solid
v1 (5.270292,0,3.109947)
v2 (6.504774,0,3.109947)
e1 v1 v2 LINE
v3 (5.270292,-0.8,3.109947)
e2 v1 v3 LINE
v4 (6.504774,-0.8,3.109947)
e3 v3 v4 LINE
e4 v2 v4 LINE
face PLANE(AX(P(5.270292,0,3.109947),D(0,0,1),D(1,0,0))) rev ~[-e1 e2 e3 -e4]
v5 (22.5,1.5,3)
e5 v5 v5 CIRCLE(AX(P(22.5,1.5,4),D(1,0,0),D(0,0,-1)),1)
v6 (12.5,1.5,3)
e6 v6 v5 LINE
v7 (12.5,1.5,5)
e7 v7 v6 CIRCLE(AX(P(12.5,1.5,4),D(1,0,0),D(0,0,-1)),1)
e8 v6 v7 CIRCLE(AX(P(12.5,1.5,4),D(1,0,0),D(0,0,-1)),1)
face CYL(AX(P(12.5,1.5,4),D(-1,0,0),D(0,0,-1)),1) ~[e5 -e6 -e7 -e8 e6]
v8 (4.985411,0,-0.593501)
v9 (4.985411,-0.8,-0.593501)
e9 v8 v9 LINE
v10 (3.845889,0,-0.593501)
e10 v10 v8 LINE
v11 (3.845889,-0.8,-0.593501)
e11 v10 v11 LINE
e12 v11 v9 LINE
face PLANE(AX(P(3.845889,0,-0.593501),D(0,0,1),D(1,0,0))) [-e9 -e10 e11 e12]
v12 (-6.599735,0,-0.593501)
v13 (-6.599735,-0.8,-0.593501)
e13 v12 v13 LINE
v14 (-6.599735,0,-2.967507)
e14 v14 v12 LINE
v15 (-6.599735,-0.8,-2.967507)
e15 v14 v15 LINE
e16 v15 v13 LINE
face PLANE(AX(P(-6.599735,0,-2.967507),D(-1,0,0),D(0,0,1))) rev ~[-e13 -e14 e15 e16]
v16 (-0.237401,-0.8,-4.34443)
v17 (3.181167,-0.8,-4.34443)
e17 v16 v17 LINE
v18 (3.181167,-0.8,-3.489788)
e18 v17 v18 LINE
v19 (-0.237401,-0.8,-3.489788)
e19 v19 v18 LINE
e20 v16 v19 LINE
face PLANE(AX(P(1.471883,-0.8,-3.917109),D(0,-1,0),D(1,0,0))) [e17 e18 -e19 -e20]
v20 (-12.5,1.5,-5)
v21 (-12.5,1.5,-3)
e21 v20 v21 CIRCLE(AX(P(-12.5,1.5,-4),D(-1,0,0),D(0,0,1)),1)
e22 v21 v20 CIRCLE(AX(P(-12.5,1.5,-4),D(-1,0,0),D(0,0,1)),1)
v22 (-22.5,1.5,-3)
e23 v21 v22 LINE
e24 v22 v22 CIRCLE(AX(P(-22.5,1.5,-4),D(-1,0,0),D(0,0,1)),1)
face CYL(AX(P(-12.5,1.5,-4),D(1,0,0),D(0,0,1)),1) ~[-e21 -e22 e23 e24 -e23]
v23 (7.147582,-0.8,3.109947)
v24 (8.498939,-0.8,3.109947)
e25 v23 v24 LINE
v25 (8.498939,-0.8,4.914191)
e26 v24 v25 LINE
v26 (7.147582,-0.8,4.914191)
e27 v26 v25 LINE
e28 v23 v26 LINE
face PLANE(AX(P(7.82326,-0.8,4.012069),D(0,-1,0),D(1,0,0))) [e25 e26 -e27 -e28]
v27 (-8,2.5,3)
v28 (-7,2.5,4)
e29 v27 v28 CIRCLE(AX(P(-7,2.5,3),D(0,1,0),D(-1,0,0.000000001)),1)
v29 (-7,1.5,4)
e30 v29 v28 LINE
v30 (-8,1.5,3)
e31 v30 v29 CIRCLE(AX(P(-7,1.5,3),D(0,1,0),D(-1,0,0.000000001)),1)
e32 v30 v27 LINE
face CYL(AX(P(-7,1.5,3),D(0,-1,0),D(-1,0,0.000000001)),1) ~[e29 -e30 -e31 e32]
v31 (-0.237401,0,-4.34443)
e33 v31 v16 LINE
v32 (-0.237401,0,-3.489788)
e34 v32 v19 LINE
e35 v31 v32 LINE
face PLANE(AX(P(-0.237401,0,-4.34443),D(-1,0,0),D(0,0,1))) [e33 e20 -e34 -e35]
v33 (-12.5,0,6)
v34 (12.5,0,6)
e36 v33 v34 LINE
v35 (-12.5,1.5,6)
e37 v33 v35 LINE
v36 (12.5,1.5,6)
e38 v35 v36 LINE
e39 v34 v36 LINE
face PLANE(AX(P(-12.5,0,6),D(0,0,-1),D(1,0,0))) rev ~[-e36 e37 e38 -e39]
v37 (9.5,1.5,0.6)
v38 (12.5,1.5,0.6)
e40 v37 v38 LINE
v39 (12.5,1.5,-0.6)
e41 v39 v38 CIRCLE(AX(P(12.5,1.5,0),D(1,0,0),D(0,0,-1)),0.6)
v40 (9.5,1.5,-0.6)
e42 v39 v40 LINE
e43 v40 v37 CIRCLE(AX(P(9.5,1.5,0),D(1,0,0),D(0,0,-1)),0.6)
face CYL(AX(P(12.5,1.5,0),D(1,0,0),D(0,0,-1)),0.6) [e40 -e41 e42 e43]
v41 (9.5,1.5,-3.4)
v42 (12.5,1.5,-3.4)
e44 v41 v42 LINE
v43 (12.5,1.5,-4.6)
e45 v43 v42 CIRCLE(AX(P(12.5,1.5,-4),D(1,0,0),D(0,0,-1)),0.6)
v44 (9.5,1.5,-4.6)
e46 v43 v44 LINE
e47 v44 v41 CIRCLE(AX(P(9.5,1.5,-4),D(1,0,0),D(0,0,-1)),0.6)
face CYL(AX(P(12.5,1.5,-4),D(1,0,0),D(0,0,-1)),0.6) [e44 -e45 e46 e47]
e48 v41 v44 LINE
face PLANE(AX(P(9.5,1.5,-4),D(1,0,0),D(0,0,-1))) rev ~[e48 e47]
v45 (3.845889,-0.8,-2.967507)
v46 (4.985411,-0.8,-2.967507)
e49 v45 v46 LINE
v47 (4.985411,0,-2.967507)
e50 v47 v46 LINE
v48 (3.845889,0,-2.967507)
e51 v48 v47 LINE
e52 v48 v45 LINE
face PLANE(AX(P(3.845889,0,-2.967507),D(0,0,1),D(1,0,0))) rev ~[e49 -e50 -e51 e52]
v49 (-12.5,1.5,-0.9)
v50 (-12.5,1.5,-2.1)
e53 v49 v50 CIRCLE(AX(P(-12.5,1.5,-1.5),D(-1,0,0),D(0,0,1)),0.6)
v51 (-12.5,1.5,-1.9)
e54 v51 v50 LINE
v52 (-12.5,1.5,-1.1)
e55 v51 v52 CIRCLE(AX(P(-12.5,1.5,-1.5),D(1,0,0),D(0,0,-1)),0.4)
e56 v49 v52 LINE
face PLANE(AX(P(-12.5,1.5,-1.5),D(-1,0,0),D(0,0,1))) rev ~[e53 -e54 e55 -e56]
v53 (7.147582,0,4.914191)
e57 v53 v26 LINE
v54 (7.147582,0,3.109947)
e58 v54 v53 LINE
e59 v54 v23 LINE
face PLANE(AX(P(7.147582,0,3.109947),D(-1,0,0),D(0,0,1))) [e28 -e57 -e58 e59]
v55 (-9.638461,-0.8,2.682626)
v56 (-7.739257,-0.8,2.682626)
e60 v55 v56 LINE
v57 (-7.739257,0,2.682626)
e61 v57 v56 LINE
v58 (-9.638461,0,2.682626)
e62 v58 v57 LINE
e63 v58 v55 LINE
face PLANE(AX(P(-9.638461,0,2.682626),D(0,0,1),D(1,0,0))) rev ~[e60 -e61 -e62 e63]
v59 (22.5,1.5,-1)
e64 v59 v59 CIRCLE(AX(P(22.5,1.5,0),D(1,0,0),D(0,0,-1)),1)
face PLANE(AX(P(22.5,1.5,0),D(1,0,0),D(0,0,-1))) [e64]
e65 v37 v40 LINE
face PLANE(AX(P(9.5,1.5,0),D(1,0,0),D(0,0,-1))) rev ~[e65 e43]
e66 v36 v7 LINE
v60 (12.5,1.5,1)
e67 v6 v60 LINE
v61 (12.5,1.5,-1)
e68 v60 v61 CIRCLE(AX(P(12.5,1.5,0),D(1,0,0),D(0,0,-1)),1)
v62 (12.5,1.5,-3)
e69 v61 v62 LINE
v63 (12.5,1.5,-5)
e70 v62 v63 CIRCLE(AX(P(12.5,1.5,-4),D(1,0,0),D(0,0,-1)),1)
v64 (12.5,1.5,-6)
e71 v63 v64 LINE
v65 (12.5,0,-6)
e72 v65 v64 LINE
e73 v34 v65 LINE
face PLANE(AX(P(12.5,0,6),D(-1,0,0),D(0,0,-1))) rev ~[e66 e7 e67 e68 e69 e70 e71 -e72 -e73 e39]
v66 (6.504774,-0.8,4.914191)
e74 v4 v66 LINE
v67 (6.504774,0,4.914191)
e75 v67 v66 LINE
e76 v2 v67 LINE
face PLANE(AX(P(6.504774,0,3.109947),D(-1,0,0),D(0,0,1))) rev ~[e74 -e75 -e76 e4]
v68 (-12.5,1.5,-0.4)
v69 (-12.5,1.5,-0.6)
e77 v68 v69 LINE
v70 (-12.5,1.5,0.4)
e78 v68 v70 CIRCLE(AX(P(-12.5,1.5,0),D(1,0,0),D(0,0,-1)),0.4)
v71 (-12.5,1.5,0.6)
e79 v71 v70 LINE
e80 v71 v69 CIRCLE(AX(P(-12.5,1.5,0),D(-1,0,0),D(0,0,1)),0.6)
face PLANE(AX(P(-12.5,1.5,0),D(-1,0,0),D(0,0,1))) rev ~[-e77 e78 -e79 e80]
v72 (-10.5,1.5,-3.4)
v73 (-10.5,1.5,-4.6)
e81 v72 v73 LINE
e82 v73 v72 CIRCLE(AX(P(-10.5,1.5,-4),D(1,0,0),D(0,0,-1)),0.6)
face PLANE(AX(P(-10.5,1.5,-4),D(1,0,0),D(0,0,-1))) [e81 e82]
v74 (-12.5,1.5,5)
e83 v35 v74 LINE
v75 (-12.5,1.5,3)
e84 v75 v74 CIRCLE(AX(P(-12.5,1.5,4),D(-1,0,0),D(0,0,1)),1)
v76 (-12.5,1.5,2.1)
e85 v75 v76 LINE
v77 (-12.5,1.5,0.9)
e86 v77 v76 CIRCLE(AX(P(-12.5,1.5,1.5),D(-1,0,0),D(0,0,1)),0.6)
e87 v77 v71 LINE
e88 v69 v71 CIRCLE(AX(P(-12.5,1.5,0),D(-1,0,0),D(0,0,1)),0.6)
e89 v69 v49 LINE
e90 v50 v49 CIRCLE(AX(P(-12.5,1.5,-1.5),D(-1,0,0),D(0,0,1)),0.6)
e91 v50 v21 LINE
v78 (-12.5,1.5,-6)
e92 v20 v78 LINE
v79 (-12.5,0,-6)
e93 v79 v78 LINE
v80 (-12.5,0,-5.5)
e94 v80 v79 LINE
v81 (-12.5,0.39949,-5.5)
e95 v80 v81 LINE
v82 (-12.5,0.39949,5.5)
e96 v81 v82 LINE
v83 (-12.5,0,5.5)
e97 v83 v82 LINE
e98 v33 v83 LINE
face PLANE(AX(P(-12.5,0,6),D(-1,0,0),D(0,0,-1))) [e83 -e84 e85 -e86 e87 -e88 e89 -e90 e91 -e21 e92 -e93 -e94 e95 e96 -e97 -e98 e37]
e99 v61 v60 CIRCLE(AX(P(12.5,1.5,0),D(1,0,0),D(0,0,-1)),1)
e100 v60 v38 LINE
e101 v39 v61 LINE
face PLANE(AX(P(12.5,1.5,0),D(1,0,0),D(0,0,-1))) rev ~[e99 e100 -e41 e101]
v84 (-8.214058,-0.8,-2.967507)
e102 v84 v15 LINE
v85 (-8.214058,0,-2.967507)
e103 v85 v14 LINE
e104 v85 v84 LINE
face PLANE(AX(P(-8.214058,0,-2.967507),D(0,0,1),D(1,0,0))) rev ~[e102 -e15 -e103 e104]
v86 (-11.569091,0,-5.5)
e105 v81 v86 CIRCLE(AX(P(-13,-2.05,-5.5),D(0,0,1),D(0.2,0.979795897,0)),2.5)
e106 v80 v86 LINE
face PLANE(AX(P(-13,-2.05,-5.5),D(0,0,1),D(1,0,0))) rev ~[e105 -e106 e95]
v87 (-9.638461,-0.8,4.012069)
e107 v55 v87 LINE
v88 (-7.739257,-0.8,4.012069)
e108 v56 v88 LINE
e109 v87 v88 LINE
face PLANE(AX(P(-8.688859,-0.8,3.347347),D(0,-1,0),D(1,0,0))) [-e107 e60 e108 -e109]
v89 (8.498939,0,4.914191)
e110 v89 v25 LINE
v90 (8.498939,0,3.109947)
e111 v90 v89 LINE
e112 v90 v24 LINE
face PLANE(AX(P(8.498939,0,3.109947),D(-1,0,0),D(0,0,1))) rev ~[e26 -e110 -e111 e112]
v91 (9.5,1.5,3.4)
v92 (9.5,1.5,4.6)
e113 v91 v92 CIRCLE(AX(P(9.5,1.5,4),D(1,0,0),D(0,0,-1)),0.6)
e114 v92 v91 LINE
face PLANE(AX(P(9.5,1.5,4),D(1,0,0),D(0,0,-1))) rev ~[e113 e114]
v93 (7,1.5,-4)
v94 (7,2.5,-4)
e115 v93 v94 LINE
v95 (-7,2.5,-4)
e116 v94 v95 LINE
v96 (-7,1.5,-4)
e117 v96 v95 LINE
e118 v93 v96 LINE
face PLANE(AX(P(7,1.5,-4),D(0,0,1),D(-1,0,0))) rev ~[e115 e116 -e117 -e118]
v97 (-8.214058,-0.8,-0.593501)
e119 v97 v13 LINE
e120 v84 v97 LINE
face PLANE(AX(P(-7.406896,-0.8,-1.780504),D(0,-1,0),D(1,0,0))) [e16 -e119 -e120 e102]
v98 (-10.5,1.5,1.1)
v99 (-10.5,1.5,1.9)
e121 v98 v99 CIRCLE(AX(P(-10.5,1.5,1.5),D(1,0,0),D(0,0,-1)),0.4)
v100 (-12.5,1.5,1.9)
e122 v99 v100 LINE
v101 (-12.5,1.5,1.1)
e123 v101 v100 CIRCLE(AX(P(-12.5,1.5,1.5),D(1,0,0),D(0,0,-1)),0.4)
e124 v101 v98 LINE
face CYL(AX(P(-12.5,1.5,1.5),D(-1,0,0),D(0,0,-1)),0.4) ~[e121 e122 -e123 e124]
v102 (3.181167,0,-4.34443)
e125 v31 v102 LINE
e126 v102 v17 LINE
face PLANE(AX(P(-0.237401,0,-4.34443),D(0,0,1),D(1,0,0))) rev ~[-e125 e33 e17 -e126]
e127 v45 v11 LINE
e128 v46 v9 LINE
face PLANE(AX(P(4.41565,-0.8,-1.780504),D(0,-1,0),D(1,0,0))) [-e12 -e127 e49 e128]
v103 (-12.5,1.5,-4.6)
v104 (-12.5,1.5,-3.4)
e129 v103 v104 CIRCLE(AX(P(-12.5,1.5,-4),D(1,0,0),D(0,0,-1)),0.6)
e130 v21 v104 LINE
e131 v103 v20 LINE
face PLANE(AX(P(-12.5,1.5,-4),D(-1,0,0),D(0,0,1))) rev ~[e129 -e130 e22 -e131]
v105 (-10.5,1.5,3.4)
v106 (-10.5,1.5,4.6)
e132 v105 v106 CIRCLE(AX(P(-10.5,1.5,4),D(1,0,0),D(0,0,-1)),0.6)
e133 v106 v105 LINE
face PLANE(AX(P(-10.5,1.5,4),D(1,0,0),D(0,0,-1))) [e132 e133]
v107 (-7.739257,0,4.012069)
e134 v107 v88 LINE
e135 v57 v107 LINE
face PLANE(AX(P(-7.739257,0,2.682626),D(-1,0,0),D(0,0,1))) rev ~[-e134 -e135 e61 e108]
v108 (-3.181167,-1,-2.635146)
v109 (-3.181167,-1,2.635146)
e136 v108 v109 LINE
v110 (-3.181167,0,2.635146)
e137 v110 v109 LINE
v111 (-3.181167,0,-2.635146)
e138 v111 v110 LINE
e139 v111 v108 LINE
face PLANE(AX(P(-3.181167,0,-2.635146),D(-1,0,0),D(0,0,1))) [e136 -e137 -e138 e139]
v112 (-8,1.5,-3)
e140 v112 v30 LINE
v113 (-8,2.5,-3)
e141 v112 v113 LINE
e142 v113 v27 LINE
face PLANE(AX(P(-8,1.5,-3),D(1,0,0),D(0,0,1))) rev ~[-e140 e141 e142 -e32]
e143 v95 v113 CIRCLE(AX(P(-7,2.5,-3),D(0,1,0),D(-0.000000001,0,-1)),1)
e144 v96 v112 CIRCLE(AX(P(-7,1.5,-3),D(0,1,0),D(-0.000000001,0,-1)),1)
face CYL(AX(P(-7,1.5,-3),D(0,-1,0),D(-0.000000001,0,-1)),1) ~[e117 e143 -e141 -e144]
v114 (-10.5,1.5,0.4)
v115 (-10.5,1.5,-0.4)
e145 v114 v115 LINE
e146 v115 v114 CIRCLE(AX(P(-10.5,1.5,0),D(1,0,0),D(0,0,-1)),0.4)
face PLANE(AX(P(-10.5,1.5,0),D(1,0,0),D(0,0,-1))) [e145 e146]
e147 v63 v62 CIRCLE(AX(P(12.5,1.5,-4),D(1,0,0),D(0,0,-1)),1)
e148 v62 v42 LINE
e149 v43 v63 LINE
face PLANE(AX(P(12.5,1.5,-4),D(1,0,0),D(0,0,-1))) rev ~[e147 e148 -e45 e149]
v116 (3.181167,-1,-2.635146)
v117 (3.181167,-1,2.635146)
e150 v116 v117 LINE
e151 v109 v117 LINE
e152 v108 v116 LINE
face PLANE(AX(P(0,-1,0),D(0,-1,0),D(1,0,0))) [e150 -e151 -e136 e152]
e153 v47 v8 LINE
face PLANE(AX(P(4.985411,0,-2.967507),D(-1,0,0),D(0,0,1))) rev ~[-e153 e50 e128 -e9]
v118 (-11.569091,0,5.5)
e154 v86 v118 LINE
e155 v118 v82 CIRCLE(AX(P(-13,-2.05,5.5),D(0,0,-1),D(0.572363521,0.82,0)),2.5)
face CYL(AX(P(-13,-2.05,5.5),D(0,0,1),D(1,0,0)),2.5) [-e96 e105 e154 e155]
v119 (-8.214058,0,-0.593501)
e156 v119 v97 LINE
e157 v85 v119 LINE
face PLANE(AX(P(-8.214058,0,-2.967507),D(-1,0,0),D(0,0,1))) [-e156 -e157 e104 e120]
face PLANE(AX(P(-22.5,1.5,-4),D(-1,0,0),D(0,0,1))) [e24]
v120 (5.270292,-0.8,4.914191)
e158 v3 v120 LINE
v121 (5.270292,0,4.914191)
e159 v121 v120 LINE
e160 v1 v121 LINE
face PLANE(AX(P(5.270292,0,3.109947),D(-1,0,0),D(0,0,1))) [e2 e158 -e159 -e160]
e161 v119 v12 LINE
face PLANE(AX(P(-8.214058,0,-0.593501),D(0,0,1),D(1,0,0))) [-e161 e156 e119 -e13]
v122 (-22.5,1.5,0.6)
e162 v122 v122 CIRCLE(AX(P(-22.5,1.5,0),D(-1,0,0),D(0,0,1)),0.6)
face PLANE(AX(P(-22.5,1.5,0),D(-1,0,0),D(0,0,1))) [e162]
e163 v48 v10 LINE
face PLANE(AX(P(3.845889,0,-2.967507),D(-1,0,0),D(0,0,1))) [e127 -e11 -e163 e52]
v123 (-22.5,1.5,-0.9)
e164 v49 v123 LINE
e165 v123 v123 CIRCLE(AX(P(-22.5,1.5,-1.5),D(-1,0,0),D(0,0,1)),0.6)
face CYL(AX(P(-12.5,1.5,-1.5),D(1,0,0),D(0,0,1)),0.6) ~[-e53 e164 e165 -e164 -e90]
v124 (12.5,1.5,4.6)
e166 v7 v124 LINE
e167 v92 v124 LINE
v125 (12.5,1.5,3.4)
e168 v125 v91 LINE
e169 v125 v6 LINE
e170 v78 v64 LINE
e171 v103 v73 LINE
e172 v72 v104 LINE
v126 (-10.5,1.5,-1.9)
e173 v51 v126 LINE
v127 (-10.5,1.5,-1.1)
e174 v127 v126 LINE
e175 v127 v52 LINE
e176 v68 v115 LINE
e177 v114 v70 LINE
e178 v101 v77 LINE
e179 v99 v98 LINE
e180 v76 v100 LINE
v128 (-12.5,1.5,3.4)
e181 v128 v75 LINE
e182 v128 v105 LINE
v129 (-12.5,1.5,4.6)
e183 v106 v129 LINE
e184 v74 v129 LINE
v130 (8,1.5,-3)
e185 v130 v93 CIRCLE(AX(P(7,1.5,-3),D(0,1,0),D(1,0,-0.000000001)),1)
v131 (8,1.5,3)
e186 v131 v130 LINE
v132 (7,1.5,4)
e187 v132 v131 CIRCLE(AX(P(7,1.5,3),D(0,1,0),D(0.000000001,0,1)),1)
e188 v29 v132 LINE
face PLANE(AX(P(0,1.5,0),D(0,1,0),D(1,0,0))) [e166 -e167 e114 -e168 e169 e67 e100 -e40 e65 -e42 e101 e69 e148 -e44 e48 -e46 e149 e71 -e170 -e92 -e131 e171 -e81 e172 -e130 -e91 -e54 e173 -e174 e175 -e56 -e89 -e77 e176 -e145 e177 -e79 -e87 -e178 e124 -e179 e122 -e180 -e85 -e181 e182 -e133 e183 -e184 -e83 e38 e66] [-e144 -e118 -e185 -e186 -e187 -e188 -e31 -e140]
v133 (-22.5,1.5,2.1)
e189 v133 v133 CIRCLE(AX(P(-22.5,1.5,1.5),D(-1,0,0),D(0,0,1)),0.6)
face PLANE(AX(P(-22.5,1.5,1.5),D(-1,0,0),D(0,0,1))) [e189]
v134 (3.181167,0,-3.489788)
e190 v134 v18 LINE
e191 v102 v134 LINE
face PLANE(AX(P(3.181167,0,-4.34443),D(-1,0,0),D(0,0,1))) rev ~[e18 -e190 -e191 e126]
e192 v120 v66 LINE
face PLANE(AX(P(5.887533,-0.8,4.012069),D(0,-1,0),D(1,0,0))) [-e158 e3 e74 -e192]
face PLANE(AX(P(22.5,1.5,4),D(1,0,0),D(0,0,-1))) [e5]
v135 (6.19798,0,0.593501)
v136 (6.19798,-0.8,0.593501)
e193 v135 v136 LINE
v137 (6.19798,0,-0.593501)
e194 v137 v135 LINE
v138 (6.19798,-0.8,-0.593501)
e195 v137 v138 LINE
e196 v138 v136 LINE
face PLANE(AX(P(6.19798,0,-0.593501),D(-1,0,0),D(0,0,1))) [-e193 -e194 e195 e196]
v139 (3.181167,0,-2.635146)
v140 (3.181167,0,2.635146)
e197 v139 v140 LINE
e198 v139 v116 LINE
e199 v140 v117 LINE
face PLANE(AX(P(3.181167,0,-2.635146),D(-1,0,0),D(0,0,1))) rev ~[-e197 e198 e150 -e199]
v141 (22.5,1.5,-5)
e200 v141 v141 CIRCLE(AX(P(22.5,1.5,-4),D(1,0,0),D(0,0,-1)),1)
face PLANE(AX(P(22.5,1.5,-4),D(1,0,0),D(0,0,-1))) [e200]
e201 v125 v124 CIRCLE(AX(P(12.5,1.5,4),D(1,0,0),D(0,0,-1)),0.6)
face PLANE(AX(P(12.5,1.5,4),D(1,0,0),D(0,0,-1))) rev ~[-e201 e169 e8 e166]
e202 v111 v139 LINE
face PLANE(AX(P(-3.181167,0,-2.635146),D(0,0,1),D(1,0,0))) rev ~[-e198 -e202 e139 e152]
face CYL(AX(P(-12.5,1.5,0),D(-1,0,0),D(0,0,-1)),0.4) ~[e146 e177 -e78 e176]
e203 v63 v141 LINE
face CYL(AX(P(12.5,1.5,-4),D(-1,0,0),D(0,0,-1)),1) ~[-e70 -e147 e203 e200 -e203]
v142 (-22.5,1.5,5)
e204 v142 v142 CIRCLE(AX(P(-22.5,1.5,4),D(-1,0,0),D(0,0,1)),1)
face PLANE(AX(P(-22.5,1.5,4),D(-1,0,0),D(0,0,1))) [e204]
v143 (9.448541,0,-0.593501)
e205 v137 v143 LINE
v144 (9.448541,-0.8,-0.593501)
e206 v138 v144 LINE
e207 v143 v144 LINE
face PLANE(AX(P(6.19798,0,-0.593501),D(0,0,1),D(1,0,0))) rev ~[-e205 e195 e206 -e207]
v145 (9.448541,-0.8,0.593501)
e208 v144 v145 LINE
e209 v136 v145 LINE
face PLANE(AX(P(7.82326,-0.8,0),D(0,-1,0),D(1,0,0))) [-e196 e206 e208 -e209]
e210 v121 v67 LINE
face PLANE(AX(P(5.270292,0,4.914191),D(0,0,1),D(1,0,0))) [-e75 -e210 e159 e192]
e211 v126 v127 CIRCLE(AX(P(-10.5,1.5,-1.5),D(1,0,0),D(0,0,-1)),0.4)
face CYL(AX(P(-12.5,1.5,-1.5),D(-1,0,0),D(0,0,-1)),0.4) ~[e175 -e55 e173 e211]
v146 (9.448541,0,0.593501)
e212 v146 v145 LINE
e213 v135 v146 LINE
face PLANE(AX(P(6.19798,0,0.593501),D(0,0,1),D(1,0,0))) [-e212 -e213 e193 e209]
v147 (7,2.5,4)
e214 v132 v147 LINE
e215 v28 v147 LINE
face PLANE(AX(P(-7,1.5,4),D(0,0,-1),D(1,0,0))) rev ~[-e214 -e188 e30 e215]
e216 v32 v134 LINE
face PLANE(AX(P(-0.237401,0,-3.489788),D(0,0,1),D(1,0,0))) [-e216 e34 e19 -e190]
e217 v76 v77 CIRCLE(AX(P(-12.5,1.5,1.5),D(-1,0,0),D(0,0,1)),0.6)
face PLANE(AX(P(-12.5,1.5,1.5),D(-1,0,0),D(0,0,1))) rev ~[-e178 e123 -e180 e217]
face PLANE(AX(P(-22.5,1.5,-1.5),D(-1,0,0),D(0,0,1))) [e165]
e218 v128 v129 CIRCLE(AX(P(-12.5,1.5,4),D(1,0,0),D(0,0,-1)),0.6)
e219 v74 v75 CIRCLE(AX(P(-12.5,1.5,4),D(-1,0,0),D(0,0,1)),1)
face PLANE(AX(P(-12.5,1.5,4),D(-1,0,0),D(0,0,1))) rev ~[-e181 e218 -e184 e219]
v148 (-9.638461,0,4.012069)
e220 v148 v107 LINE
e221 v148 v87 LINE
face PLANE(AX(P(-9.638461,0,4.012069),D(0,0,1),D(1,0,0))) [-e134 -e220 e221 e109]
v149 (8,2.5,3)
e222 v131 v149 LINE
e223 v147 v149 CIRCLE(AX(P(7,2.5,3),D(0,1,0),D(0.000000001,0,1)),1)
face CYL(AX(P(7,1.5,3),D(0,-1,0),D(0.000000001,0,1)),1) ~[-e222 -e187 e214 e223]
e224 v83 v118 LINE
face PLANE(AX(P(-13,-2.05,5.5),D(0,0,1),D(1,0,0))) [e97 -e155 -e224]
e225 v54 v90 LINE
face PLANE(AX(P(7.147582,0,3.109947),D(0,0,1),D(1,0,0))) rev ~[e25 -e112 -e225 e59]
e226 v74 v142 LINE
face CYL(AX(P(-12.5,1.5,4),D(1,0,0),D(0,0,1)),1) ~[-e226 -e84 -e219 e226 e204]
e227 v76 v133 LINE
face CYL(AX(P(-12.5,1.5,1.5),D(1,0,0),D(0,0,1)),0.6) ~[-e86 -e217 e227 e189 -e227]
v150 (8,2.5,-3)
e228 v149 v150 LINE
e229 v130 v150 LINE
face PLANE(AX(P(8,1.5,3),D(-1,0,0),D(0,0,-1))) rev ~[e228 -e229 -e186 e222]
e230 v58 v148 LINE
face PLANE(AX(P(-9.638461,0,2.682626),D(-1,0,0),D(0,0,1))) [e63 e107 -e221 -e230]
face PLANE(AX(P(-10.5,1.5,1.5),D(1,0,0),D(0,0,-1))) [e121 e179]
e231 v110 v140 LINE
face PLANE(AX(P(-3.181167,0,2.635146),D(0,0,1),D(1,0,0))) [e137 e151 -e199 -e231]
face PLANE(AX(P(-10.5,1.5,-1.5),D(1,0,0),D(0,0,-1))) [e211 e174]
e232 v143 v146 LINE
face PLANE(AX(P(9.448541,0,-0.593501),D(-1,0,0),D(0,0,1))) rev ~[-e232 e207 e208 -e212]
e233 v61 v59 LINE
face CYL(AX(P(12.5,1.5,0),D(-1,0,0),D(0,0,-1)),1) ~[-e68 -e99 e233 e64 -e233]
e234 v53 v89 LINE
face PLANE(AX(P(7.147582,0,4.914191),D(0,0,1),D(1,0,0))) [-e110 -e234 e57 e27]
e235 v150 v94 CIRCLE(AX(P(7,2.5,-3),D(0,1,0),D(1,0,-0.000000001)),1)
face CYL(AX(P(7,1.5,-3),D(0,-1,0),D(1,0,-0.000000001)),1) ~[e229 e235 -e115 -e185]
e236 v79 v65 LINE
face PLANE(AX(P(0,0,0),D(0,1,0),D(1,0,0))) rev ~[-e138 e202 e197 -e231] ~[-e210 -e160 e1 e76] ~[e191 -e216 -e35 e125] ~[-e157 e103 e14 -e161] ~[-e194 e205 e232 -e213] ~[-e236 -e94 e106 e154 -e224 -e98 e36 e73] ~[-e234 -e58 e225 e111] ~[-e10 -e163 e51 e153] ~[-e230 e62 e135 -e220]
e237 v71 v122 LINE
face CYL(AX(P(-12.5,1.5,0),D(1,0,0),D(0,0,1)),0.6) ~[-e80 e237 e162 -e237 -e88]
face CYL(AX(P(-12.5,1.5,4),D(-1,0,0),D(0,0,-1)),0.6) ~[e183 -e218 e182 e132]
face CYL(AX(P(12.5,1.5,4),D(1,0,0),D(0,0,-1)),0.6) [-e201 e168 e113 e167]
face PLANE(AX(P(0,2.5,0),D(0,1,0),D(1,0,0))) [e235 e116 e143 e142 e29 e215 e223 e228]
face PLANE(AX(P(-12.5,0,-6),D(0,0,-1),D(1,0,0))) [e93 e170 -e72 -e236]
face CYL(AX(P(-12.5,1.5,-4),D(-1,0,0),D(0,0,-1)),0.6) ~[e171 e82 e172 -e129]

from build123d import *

# Parameters (mm, degrees)
SKETCH1_W            = 25
SKETCH1_H            = 12
BOSS_EXTRUDE1_DEPTH  = 1.5
SKETCH2_R            = 1
BOSS_EXTRUDE2_DEPTH  = 10
SKETCH3_R            = 0.6
BOSS_EXTRUDE3_DEPTH  = 3
SKETCH4_R            = 1
SKETCH4_R_2          = 0.6
BOSS_EXTRUDE4_DEPTH  = 10
SKETCH5_R            = 0.6
SKETCH5_R_2          = 0.4
BOSS_EXTRUDE5_DEPTH  = 2
BOSS_EXTRUDE6_DEPTH  = 1
SKETCH8_R            = 2.5
BOSS_EXTRUDE10_DEPTH = 11
SKETCH9_W            = 6.362334076
SKETCH9_H            = 5.27029166
BOSS_EXTRUDE11_DEPTH = 1
SKETCH10_W           = 1.899204201
SKETCH10_H           = 1.329442941
SKETCH10_W_2         = 1.614323571
SKETCH10_H_2         = 2.374005252
SKETCH10_W_3         = 3.418567563
SKETCH10_H_3         = 0.85464189
SKETCH10_W_4         = 1.139522521
SKETCH10_W_5         = 1.234482731
SKETCH10_H_4         = 1.804243992
SKETCH10_W_6         = 1.351356835
SKETCH10_W_7         = 3.250561037
SKETCH10_H_5         = 1.187002626
BOSS_EXTRUDE12_DEPTH = 0.8


with BuildPart() as part:
    # Sketch1 → Boss-Extrude1 (new body)
    with BuildSketch(Plane(origin=(0, 0, 0), x_dir=(1, 0, 0), z_dir=(0, 1, 0))):
        Rectangle(SKETCH1_W, SKETCH1_H)
    extrude(amount=BOSS_EXTRUDE1_DEPTH)

    # Sketch2 → Boss-Extrude2 (add)
    with BuildSketch(Plane(origin=(12.5, 0, 0), x_dir=(0, 0, -1), z_dir=(1, 0, 0))):
        with Locations((0, 1.5)):
            Circle(SKETCH2_R)
        with Locations((-4, 1.5)):
            Circle(SKETCH2_R)
        with Locations((4, 1.5)):
            Circle(SKETCH2_R)
    extrude(amount=BOSS_EXTRUDE2_DEPTH)

    # Sketch3 → Boss-Extrude3 (add)
    with BuildSketch(Plane(origin=(12.5, 0, 0), x_dir=(0, 0, -1), z_dir=(1, 0, 0))):
        with Locations((-4, 1.5)):
            Circle(SKETCH3_R)
        with Locations((0, 1.5)):
            Circle(SKETCH3_R)
        with Locations((4, 1.5)):
            Circle(SKETCH3_R)
    extrude(amount=-BOSS_EXTRUDE3_DEPTH)

    # Sketch4 → Boss-Extrude4 (add)
    with BuildSketch(Plane.ZY.offset(12.5)):
        with Locations((-4, 1.5)):
            Circle(SKETCH4_R)
        with Locations((4, 1.5)):
            Circle(SKETCH4_R)
        with Locations((0, 1.5)):
            Circle(SKETCH4_R_2)
        with Locations((1.5, 1.5)):
            Circle(SKETCH4_R_2)
        with Locations((-1.5, 1.5)):
            Circle(SKETCH4_R_2)
    extrude(amount=BOSS_EXTRUDE4_DEPTH)

    # Sketch5 → Boss-Extrude5 (add)
    with BuildSketch(Plane(origin=(-12.5, 0, 0), x_dir=(0, 0, -1), z_dir=(1, 0, 0))):
        with Locations((-4, 1.5)):
            Circle(SKETCH5_R)
        with Locations((-1.5, 1.5)):
            Circle(SKETCH5_R_2)
        with Locations((0, 1.5)):
            Circle(SKETCH5_R_2)
        with Locations((1.5, 1.5)):
            Circle(SKETCH5_R_2)
        with Locations((4, 1.5)):
            Circle(SKETCH5_R)
    extrude(amount=BOSS_EXTRUDE5_DEPTH)

    # Sketch6 → Boss-Extrude6 (add)
    with BuildSketch(Plane(origin=(0, 1.5, 0), x_dir=(1, 0, 0), z_dir=(0, 1, 0))):
        with BuildLine():
            Line((-7, -4), (7, -4))
            ThreePointArc((7, -4), (7.707106781, -3.707106781), (8, -3))
            Line((8, -3), (8, 3))
            ThreePointArc((8, 3), (7.707106781, 3.707106781), (7, 4))
            Line((7, 4), (-7, 4))
            ThreePointArc((-7, 4), (-7.707106781, 3.707106781), (-8, 3))
            Line((-8, 3), (-8, -3))
            ThreePointArc((-8, -3), (-7.707106781, -3.707106781), (-7, -4))
        make_face()
    extrude(amount=BOSS_EXTRUDE6_DEPTH)

    # Sketch8 → Boss-Extrude10 (add)
    with BuildSketch(Plane.XY.offset(5.5)):
        with Locations((-13, -2.05)):
            Circle(SKETCH8_R)
    extrude(amount=-BOSS_EXTRUDE10_DEPTH)

    # Sketch9 → Boss-Extrude11 (add)
    with BuildSketch(Plane.XZ):
        Rectangle(SKETCH9_W, SKETCH9_H)
    extrude(amount=BOSS_EXTRUDE11_DEPTH)

    # Sketch10 → Boss-Extrude12 (add)
    with BuildSketch(Plane.XZ):
        with Locations((-8.688859223, 3.347347405)):
            Rectangle(SKETCH10_W, SKETCH10_H)
        with Locations((-7.406896386, -1.780503939)):
            Rectangle(SKETCH10_W_2, SKETCH10_H_2)
        with Locations((1.471883257, -3.917108666)):
            Rectangle(SKETCH10_W_3, SKETCH10_H_3)
        with Locations((4.415649769, -1.780503939)):
            Rectangle(SKETCH10_W_4, SKETCH10_H_2)
        with Locations((5.887533026, 4.012068876)):
            Rectangle(SKETCH10_W_5, SKETCH10_H_4)
        with Locations((7.823260385, 4.012068876)):
            Rectangle(SKETCH10_W_6, SKETCH10_H_4)
        with Locations((7.823260385, 0)):
            Rectangle(SKETCH10_W_7, SKETCH10_H_5)
    extrude(amount=BOSS_EXTRUDE12_DEPTH)


solid = part.part
